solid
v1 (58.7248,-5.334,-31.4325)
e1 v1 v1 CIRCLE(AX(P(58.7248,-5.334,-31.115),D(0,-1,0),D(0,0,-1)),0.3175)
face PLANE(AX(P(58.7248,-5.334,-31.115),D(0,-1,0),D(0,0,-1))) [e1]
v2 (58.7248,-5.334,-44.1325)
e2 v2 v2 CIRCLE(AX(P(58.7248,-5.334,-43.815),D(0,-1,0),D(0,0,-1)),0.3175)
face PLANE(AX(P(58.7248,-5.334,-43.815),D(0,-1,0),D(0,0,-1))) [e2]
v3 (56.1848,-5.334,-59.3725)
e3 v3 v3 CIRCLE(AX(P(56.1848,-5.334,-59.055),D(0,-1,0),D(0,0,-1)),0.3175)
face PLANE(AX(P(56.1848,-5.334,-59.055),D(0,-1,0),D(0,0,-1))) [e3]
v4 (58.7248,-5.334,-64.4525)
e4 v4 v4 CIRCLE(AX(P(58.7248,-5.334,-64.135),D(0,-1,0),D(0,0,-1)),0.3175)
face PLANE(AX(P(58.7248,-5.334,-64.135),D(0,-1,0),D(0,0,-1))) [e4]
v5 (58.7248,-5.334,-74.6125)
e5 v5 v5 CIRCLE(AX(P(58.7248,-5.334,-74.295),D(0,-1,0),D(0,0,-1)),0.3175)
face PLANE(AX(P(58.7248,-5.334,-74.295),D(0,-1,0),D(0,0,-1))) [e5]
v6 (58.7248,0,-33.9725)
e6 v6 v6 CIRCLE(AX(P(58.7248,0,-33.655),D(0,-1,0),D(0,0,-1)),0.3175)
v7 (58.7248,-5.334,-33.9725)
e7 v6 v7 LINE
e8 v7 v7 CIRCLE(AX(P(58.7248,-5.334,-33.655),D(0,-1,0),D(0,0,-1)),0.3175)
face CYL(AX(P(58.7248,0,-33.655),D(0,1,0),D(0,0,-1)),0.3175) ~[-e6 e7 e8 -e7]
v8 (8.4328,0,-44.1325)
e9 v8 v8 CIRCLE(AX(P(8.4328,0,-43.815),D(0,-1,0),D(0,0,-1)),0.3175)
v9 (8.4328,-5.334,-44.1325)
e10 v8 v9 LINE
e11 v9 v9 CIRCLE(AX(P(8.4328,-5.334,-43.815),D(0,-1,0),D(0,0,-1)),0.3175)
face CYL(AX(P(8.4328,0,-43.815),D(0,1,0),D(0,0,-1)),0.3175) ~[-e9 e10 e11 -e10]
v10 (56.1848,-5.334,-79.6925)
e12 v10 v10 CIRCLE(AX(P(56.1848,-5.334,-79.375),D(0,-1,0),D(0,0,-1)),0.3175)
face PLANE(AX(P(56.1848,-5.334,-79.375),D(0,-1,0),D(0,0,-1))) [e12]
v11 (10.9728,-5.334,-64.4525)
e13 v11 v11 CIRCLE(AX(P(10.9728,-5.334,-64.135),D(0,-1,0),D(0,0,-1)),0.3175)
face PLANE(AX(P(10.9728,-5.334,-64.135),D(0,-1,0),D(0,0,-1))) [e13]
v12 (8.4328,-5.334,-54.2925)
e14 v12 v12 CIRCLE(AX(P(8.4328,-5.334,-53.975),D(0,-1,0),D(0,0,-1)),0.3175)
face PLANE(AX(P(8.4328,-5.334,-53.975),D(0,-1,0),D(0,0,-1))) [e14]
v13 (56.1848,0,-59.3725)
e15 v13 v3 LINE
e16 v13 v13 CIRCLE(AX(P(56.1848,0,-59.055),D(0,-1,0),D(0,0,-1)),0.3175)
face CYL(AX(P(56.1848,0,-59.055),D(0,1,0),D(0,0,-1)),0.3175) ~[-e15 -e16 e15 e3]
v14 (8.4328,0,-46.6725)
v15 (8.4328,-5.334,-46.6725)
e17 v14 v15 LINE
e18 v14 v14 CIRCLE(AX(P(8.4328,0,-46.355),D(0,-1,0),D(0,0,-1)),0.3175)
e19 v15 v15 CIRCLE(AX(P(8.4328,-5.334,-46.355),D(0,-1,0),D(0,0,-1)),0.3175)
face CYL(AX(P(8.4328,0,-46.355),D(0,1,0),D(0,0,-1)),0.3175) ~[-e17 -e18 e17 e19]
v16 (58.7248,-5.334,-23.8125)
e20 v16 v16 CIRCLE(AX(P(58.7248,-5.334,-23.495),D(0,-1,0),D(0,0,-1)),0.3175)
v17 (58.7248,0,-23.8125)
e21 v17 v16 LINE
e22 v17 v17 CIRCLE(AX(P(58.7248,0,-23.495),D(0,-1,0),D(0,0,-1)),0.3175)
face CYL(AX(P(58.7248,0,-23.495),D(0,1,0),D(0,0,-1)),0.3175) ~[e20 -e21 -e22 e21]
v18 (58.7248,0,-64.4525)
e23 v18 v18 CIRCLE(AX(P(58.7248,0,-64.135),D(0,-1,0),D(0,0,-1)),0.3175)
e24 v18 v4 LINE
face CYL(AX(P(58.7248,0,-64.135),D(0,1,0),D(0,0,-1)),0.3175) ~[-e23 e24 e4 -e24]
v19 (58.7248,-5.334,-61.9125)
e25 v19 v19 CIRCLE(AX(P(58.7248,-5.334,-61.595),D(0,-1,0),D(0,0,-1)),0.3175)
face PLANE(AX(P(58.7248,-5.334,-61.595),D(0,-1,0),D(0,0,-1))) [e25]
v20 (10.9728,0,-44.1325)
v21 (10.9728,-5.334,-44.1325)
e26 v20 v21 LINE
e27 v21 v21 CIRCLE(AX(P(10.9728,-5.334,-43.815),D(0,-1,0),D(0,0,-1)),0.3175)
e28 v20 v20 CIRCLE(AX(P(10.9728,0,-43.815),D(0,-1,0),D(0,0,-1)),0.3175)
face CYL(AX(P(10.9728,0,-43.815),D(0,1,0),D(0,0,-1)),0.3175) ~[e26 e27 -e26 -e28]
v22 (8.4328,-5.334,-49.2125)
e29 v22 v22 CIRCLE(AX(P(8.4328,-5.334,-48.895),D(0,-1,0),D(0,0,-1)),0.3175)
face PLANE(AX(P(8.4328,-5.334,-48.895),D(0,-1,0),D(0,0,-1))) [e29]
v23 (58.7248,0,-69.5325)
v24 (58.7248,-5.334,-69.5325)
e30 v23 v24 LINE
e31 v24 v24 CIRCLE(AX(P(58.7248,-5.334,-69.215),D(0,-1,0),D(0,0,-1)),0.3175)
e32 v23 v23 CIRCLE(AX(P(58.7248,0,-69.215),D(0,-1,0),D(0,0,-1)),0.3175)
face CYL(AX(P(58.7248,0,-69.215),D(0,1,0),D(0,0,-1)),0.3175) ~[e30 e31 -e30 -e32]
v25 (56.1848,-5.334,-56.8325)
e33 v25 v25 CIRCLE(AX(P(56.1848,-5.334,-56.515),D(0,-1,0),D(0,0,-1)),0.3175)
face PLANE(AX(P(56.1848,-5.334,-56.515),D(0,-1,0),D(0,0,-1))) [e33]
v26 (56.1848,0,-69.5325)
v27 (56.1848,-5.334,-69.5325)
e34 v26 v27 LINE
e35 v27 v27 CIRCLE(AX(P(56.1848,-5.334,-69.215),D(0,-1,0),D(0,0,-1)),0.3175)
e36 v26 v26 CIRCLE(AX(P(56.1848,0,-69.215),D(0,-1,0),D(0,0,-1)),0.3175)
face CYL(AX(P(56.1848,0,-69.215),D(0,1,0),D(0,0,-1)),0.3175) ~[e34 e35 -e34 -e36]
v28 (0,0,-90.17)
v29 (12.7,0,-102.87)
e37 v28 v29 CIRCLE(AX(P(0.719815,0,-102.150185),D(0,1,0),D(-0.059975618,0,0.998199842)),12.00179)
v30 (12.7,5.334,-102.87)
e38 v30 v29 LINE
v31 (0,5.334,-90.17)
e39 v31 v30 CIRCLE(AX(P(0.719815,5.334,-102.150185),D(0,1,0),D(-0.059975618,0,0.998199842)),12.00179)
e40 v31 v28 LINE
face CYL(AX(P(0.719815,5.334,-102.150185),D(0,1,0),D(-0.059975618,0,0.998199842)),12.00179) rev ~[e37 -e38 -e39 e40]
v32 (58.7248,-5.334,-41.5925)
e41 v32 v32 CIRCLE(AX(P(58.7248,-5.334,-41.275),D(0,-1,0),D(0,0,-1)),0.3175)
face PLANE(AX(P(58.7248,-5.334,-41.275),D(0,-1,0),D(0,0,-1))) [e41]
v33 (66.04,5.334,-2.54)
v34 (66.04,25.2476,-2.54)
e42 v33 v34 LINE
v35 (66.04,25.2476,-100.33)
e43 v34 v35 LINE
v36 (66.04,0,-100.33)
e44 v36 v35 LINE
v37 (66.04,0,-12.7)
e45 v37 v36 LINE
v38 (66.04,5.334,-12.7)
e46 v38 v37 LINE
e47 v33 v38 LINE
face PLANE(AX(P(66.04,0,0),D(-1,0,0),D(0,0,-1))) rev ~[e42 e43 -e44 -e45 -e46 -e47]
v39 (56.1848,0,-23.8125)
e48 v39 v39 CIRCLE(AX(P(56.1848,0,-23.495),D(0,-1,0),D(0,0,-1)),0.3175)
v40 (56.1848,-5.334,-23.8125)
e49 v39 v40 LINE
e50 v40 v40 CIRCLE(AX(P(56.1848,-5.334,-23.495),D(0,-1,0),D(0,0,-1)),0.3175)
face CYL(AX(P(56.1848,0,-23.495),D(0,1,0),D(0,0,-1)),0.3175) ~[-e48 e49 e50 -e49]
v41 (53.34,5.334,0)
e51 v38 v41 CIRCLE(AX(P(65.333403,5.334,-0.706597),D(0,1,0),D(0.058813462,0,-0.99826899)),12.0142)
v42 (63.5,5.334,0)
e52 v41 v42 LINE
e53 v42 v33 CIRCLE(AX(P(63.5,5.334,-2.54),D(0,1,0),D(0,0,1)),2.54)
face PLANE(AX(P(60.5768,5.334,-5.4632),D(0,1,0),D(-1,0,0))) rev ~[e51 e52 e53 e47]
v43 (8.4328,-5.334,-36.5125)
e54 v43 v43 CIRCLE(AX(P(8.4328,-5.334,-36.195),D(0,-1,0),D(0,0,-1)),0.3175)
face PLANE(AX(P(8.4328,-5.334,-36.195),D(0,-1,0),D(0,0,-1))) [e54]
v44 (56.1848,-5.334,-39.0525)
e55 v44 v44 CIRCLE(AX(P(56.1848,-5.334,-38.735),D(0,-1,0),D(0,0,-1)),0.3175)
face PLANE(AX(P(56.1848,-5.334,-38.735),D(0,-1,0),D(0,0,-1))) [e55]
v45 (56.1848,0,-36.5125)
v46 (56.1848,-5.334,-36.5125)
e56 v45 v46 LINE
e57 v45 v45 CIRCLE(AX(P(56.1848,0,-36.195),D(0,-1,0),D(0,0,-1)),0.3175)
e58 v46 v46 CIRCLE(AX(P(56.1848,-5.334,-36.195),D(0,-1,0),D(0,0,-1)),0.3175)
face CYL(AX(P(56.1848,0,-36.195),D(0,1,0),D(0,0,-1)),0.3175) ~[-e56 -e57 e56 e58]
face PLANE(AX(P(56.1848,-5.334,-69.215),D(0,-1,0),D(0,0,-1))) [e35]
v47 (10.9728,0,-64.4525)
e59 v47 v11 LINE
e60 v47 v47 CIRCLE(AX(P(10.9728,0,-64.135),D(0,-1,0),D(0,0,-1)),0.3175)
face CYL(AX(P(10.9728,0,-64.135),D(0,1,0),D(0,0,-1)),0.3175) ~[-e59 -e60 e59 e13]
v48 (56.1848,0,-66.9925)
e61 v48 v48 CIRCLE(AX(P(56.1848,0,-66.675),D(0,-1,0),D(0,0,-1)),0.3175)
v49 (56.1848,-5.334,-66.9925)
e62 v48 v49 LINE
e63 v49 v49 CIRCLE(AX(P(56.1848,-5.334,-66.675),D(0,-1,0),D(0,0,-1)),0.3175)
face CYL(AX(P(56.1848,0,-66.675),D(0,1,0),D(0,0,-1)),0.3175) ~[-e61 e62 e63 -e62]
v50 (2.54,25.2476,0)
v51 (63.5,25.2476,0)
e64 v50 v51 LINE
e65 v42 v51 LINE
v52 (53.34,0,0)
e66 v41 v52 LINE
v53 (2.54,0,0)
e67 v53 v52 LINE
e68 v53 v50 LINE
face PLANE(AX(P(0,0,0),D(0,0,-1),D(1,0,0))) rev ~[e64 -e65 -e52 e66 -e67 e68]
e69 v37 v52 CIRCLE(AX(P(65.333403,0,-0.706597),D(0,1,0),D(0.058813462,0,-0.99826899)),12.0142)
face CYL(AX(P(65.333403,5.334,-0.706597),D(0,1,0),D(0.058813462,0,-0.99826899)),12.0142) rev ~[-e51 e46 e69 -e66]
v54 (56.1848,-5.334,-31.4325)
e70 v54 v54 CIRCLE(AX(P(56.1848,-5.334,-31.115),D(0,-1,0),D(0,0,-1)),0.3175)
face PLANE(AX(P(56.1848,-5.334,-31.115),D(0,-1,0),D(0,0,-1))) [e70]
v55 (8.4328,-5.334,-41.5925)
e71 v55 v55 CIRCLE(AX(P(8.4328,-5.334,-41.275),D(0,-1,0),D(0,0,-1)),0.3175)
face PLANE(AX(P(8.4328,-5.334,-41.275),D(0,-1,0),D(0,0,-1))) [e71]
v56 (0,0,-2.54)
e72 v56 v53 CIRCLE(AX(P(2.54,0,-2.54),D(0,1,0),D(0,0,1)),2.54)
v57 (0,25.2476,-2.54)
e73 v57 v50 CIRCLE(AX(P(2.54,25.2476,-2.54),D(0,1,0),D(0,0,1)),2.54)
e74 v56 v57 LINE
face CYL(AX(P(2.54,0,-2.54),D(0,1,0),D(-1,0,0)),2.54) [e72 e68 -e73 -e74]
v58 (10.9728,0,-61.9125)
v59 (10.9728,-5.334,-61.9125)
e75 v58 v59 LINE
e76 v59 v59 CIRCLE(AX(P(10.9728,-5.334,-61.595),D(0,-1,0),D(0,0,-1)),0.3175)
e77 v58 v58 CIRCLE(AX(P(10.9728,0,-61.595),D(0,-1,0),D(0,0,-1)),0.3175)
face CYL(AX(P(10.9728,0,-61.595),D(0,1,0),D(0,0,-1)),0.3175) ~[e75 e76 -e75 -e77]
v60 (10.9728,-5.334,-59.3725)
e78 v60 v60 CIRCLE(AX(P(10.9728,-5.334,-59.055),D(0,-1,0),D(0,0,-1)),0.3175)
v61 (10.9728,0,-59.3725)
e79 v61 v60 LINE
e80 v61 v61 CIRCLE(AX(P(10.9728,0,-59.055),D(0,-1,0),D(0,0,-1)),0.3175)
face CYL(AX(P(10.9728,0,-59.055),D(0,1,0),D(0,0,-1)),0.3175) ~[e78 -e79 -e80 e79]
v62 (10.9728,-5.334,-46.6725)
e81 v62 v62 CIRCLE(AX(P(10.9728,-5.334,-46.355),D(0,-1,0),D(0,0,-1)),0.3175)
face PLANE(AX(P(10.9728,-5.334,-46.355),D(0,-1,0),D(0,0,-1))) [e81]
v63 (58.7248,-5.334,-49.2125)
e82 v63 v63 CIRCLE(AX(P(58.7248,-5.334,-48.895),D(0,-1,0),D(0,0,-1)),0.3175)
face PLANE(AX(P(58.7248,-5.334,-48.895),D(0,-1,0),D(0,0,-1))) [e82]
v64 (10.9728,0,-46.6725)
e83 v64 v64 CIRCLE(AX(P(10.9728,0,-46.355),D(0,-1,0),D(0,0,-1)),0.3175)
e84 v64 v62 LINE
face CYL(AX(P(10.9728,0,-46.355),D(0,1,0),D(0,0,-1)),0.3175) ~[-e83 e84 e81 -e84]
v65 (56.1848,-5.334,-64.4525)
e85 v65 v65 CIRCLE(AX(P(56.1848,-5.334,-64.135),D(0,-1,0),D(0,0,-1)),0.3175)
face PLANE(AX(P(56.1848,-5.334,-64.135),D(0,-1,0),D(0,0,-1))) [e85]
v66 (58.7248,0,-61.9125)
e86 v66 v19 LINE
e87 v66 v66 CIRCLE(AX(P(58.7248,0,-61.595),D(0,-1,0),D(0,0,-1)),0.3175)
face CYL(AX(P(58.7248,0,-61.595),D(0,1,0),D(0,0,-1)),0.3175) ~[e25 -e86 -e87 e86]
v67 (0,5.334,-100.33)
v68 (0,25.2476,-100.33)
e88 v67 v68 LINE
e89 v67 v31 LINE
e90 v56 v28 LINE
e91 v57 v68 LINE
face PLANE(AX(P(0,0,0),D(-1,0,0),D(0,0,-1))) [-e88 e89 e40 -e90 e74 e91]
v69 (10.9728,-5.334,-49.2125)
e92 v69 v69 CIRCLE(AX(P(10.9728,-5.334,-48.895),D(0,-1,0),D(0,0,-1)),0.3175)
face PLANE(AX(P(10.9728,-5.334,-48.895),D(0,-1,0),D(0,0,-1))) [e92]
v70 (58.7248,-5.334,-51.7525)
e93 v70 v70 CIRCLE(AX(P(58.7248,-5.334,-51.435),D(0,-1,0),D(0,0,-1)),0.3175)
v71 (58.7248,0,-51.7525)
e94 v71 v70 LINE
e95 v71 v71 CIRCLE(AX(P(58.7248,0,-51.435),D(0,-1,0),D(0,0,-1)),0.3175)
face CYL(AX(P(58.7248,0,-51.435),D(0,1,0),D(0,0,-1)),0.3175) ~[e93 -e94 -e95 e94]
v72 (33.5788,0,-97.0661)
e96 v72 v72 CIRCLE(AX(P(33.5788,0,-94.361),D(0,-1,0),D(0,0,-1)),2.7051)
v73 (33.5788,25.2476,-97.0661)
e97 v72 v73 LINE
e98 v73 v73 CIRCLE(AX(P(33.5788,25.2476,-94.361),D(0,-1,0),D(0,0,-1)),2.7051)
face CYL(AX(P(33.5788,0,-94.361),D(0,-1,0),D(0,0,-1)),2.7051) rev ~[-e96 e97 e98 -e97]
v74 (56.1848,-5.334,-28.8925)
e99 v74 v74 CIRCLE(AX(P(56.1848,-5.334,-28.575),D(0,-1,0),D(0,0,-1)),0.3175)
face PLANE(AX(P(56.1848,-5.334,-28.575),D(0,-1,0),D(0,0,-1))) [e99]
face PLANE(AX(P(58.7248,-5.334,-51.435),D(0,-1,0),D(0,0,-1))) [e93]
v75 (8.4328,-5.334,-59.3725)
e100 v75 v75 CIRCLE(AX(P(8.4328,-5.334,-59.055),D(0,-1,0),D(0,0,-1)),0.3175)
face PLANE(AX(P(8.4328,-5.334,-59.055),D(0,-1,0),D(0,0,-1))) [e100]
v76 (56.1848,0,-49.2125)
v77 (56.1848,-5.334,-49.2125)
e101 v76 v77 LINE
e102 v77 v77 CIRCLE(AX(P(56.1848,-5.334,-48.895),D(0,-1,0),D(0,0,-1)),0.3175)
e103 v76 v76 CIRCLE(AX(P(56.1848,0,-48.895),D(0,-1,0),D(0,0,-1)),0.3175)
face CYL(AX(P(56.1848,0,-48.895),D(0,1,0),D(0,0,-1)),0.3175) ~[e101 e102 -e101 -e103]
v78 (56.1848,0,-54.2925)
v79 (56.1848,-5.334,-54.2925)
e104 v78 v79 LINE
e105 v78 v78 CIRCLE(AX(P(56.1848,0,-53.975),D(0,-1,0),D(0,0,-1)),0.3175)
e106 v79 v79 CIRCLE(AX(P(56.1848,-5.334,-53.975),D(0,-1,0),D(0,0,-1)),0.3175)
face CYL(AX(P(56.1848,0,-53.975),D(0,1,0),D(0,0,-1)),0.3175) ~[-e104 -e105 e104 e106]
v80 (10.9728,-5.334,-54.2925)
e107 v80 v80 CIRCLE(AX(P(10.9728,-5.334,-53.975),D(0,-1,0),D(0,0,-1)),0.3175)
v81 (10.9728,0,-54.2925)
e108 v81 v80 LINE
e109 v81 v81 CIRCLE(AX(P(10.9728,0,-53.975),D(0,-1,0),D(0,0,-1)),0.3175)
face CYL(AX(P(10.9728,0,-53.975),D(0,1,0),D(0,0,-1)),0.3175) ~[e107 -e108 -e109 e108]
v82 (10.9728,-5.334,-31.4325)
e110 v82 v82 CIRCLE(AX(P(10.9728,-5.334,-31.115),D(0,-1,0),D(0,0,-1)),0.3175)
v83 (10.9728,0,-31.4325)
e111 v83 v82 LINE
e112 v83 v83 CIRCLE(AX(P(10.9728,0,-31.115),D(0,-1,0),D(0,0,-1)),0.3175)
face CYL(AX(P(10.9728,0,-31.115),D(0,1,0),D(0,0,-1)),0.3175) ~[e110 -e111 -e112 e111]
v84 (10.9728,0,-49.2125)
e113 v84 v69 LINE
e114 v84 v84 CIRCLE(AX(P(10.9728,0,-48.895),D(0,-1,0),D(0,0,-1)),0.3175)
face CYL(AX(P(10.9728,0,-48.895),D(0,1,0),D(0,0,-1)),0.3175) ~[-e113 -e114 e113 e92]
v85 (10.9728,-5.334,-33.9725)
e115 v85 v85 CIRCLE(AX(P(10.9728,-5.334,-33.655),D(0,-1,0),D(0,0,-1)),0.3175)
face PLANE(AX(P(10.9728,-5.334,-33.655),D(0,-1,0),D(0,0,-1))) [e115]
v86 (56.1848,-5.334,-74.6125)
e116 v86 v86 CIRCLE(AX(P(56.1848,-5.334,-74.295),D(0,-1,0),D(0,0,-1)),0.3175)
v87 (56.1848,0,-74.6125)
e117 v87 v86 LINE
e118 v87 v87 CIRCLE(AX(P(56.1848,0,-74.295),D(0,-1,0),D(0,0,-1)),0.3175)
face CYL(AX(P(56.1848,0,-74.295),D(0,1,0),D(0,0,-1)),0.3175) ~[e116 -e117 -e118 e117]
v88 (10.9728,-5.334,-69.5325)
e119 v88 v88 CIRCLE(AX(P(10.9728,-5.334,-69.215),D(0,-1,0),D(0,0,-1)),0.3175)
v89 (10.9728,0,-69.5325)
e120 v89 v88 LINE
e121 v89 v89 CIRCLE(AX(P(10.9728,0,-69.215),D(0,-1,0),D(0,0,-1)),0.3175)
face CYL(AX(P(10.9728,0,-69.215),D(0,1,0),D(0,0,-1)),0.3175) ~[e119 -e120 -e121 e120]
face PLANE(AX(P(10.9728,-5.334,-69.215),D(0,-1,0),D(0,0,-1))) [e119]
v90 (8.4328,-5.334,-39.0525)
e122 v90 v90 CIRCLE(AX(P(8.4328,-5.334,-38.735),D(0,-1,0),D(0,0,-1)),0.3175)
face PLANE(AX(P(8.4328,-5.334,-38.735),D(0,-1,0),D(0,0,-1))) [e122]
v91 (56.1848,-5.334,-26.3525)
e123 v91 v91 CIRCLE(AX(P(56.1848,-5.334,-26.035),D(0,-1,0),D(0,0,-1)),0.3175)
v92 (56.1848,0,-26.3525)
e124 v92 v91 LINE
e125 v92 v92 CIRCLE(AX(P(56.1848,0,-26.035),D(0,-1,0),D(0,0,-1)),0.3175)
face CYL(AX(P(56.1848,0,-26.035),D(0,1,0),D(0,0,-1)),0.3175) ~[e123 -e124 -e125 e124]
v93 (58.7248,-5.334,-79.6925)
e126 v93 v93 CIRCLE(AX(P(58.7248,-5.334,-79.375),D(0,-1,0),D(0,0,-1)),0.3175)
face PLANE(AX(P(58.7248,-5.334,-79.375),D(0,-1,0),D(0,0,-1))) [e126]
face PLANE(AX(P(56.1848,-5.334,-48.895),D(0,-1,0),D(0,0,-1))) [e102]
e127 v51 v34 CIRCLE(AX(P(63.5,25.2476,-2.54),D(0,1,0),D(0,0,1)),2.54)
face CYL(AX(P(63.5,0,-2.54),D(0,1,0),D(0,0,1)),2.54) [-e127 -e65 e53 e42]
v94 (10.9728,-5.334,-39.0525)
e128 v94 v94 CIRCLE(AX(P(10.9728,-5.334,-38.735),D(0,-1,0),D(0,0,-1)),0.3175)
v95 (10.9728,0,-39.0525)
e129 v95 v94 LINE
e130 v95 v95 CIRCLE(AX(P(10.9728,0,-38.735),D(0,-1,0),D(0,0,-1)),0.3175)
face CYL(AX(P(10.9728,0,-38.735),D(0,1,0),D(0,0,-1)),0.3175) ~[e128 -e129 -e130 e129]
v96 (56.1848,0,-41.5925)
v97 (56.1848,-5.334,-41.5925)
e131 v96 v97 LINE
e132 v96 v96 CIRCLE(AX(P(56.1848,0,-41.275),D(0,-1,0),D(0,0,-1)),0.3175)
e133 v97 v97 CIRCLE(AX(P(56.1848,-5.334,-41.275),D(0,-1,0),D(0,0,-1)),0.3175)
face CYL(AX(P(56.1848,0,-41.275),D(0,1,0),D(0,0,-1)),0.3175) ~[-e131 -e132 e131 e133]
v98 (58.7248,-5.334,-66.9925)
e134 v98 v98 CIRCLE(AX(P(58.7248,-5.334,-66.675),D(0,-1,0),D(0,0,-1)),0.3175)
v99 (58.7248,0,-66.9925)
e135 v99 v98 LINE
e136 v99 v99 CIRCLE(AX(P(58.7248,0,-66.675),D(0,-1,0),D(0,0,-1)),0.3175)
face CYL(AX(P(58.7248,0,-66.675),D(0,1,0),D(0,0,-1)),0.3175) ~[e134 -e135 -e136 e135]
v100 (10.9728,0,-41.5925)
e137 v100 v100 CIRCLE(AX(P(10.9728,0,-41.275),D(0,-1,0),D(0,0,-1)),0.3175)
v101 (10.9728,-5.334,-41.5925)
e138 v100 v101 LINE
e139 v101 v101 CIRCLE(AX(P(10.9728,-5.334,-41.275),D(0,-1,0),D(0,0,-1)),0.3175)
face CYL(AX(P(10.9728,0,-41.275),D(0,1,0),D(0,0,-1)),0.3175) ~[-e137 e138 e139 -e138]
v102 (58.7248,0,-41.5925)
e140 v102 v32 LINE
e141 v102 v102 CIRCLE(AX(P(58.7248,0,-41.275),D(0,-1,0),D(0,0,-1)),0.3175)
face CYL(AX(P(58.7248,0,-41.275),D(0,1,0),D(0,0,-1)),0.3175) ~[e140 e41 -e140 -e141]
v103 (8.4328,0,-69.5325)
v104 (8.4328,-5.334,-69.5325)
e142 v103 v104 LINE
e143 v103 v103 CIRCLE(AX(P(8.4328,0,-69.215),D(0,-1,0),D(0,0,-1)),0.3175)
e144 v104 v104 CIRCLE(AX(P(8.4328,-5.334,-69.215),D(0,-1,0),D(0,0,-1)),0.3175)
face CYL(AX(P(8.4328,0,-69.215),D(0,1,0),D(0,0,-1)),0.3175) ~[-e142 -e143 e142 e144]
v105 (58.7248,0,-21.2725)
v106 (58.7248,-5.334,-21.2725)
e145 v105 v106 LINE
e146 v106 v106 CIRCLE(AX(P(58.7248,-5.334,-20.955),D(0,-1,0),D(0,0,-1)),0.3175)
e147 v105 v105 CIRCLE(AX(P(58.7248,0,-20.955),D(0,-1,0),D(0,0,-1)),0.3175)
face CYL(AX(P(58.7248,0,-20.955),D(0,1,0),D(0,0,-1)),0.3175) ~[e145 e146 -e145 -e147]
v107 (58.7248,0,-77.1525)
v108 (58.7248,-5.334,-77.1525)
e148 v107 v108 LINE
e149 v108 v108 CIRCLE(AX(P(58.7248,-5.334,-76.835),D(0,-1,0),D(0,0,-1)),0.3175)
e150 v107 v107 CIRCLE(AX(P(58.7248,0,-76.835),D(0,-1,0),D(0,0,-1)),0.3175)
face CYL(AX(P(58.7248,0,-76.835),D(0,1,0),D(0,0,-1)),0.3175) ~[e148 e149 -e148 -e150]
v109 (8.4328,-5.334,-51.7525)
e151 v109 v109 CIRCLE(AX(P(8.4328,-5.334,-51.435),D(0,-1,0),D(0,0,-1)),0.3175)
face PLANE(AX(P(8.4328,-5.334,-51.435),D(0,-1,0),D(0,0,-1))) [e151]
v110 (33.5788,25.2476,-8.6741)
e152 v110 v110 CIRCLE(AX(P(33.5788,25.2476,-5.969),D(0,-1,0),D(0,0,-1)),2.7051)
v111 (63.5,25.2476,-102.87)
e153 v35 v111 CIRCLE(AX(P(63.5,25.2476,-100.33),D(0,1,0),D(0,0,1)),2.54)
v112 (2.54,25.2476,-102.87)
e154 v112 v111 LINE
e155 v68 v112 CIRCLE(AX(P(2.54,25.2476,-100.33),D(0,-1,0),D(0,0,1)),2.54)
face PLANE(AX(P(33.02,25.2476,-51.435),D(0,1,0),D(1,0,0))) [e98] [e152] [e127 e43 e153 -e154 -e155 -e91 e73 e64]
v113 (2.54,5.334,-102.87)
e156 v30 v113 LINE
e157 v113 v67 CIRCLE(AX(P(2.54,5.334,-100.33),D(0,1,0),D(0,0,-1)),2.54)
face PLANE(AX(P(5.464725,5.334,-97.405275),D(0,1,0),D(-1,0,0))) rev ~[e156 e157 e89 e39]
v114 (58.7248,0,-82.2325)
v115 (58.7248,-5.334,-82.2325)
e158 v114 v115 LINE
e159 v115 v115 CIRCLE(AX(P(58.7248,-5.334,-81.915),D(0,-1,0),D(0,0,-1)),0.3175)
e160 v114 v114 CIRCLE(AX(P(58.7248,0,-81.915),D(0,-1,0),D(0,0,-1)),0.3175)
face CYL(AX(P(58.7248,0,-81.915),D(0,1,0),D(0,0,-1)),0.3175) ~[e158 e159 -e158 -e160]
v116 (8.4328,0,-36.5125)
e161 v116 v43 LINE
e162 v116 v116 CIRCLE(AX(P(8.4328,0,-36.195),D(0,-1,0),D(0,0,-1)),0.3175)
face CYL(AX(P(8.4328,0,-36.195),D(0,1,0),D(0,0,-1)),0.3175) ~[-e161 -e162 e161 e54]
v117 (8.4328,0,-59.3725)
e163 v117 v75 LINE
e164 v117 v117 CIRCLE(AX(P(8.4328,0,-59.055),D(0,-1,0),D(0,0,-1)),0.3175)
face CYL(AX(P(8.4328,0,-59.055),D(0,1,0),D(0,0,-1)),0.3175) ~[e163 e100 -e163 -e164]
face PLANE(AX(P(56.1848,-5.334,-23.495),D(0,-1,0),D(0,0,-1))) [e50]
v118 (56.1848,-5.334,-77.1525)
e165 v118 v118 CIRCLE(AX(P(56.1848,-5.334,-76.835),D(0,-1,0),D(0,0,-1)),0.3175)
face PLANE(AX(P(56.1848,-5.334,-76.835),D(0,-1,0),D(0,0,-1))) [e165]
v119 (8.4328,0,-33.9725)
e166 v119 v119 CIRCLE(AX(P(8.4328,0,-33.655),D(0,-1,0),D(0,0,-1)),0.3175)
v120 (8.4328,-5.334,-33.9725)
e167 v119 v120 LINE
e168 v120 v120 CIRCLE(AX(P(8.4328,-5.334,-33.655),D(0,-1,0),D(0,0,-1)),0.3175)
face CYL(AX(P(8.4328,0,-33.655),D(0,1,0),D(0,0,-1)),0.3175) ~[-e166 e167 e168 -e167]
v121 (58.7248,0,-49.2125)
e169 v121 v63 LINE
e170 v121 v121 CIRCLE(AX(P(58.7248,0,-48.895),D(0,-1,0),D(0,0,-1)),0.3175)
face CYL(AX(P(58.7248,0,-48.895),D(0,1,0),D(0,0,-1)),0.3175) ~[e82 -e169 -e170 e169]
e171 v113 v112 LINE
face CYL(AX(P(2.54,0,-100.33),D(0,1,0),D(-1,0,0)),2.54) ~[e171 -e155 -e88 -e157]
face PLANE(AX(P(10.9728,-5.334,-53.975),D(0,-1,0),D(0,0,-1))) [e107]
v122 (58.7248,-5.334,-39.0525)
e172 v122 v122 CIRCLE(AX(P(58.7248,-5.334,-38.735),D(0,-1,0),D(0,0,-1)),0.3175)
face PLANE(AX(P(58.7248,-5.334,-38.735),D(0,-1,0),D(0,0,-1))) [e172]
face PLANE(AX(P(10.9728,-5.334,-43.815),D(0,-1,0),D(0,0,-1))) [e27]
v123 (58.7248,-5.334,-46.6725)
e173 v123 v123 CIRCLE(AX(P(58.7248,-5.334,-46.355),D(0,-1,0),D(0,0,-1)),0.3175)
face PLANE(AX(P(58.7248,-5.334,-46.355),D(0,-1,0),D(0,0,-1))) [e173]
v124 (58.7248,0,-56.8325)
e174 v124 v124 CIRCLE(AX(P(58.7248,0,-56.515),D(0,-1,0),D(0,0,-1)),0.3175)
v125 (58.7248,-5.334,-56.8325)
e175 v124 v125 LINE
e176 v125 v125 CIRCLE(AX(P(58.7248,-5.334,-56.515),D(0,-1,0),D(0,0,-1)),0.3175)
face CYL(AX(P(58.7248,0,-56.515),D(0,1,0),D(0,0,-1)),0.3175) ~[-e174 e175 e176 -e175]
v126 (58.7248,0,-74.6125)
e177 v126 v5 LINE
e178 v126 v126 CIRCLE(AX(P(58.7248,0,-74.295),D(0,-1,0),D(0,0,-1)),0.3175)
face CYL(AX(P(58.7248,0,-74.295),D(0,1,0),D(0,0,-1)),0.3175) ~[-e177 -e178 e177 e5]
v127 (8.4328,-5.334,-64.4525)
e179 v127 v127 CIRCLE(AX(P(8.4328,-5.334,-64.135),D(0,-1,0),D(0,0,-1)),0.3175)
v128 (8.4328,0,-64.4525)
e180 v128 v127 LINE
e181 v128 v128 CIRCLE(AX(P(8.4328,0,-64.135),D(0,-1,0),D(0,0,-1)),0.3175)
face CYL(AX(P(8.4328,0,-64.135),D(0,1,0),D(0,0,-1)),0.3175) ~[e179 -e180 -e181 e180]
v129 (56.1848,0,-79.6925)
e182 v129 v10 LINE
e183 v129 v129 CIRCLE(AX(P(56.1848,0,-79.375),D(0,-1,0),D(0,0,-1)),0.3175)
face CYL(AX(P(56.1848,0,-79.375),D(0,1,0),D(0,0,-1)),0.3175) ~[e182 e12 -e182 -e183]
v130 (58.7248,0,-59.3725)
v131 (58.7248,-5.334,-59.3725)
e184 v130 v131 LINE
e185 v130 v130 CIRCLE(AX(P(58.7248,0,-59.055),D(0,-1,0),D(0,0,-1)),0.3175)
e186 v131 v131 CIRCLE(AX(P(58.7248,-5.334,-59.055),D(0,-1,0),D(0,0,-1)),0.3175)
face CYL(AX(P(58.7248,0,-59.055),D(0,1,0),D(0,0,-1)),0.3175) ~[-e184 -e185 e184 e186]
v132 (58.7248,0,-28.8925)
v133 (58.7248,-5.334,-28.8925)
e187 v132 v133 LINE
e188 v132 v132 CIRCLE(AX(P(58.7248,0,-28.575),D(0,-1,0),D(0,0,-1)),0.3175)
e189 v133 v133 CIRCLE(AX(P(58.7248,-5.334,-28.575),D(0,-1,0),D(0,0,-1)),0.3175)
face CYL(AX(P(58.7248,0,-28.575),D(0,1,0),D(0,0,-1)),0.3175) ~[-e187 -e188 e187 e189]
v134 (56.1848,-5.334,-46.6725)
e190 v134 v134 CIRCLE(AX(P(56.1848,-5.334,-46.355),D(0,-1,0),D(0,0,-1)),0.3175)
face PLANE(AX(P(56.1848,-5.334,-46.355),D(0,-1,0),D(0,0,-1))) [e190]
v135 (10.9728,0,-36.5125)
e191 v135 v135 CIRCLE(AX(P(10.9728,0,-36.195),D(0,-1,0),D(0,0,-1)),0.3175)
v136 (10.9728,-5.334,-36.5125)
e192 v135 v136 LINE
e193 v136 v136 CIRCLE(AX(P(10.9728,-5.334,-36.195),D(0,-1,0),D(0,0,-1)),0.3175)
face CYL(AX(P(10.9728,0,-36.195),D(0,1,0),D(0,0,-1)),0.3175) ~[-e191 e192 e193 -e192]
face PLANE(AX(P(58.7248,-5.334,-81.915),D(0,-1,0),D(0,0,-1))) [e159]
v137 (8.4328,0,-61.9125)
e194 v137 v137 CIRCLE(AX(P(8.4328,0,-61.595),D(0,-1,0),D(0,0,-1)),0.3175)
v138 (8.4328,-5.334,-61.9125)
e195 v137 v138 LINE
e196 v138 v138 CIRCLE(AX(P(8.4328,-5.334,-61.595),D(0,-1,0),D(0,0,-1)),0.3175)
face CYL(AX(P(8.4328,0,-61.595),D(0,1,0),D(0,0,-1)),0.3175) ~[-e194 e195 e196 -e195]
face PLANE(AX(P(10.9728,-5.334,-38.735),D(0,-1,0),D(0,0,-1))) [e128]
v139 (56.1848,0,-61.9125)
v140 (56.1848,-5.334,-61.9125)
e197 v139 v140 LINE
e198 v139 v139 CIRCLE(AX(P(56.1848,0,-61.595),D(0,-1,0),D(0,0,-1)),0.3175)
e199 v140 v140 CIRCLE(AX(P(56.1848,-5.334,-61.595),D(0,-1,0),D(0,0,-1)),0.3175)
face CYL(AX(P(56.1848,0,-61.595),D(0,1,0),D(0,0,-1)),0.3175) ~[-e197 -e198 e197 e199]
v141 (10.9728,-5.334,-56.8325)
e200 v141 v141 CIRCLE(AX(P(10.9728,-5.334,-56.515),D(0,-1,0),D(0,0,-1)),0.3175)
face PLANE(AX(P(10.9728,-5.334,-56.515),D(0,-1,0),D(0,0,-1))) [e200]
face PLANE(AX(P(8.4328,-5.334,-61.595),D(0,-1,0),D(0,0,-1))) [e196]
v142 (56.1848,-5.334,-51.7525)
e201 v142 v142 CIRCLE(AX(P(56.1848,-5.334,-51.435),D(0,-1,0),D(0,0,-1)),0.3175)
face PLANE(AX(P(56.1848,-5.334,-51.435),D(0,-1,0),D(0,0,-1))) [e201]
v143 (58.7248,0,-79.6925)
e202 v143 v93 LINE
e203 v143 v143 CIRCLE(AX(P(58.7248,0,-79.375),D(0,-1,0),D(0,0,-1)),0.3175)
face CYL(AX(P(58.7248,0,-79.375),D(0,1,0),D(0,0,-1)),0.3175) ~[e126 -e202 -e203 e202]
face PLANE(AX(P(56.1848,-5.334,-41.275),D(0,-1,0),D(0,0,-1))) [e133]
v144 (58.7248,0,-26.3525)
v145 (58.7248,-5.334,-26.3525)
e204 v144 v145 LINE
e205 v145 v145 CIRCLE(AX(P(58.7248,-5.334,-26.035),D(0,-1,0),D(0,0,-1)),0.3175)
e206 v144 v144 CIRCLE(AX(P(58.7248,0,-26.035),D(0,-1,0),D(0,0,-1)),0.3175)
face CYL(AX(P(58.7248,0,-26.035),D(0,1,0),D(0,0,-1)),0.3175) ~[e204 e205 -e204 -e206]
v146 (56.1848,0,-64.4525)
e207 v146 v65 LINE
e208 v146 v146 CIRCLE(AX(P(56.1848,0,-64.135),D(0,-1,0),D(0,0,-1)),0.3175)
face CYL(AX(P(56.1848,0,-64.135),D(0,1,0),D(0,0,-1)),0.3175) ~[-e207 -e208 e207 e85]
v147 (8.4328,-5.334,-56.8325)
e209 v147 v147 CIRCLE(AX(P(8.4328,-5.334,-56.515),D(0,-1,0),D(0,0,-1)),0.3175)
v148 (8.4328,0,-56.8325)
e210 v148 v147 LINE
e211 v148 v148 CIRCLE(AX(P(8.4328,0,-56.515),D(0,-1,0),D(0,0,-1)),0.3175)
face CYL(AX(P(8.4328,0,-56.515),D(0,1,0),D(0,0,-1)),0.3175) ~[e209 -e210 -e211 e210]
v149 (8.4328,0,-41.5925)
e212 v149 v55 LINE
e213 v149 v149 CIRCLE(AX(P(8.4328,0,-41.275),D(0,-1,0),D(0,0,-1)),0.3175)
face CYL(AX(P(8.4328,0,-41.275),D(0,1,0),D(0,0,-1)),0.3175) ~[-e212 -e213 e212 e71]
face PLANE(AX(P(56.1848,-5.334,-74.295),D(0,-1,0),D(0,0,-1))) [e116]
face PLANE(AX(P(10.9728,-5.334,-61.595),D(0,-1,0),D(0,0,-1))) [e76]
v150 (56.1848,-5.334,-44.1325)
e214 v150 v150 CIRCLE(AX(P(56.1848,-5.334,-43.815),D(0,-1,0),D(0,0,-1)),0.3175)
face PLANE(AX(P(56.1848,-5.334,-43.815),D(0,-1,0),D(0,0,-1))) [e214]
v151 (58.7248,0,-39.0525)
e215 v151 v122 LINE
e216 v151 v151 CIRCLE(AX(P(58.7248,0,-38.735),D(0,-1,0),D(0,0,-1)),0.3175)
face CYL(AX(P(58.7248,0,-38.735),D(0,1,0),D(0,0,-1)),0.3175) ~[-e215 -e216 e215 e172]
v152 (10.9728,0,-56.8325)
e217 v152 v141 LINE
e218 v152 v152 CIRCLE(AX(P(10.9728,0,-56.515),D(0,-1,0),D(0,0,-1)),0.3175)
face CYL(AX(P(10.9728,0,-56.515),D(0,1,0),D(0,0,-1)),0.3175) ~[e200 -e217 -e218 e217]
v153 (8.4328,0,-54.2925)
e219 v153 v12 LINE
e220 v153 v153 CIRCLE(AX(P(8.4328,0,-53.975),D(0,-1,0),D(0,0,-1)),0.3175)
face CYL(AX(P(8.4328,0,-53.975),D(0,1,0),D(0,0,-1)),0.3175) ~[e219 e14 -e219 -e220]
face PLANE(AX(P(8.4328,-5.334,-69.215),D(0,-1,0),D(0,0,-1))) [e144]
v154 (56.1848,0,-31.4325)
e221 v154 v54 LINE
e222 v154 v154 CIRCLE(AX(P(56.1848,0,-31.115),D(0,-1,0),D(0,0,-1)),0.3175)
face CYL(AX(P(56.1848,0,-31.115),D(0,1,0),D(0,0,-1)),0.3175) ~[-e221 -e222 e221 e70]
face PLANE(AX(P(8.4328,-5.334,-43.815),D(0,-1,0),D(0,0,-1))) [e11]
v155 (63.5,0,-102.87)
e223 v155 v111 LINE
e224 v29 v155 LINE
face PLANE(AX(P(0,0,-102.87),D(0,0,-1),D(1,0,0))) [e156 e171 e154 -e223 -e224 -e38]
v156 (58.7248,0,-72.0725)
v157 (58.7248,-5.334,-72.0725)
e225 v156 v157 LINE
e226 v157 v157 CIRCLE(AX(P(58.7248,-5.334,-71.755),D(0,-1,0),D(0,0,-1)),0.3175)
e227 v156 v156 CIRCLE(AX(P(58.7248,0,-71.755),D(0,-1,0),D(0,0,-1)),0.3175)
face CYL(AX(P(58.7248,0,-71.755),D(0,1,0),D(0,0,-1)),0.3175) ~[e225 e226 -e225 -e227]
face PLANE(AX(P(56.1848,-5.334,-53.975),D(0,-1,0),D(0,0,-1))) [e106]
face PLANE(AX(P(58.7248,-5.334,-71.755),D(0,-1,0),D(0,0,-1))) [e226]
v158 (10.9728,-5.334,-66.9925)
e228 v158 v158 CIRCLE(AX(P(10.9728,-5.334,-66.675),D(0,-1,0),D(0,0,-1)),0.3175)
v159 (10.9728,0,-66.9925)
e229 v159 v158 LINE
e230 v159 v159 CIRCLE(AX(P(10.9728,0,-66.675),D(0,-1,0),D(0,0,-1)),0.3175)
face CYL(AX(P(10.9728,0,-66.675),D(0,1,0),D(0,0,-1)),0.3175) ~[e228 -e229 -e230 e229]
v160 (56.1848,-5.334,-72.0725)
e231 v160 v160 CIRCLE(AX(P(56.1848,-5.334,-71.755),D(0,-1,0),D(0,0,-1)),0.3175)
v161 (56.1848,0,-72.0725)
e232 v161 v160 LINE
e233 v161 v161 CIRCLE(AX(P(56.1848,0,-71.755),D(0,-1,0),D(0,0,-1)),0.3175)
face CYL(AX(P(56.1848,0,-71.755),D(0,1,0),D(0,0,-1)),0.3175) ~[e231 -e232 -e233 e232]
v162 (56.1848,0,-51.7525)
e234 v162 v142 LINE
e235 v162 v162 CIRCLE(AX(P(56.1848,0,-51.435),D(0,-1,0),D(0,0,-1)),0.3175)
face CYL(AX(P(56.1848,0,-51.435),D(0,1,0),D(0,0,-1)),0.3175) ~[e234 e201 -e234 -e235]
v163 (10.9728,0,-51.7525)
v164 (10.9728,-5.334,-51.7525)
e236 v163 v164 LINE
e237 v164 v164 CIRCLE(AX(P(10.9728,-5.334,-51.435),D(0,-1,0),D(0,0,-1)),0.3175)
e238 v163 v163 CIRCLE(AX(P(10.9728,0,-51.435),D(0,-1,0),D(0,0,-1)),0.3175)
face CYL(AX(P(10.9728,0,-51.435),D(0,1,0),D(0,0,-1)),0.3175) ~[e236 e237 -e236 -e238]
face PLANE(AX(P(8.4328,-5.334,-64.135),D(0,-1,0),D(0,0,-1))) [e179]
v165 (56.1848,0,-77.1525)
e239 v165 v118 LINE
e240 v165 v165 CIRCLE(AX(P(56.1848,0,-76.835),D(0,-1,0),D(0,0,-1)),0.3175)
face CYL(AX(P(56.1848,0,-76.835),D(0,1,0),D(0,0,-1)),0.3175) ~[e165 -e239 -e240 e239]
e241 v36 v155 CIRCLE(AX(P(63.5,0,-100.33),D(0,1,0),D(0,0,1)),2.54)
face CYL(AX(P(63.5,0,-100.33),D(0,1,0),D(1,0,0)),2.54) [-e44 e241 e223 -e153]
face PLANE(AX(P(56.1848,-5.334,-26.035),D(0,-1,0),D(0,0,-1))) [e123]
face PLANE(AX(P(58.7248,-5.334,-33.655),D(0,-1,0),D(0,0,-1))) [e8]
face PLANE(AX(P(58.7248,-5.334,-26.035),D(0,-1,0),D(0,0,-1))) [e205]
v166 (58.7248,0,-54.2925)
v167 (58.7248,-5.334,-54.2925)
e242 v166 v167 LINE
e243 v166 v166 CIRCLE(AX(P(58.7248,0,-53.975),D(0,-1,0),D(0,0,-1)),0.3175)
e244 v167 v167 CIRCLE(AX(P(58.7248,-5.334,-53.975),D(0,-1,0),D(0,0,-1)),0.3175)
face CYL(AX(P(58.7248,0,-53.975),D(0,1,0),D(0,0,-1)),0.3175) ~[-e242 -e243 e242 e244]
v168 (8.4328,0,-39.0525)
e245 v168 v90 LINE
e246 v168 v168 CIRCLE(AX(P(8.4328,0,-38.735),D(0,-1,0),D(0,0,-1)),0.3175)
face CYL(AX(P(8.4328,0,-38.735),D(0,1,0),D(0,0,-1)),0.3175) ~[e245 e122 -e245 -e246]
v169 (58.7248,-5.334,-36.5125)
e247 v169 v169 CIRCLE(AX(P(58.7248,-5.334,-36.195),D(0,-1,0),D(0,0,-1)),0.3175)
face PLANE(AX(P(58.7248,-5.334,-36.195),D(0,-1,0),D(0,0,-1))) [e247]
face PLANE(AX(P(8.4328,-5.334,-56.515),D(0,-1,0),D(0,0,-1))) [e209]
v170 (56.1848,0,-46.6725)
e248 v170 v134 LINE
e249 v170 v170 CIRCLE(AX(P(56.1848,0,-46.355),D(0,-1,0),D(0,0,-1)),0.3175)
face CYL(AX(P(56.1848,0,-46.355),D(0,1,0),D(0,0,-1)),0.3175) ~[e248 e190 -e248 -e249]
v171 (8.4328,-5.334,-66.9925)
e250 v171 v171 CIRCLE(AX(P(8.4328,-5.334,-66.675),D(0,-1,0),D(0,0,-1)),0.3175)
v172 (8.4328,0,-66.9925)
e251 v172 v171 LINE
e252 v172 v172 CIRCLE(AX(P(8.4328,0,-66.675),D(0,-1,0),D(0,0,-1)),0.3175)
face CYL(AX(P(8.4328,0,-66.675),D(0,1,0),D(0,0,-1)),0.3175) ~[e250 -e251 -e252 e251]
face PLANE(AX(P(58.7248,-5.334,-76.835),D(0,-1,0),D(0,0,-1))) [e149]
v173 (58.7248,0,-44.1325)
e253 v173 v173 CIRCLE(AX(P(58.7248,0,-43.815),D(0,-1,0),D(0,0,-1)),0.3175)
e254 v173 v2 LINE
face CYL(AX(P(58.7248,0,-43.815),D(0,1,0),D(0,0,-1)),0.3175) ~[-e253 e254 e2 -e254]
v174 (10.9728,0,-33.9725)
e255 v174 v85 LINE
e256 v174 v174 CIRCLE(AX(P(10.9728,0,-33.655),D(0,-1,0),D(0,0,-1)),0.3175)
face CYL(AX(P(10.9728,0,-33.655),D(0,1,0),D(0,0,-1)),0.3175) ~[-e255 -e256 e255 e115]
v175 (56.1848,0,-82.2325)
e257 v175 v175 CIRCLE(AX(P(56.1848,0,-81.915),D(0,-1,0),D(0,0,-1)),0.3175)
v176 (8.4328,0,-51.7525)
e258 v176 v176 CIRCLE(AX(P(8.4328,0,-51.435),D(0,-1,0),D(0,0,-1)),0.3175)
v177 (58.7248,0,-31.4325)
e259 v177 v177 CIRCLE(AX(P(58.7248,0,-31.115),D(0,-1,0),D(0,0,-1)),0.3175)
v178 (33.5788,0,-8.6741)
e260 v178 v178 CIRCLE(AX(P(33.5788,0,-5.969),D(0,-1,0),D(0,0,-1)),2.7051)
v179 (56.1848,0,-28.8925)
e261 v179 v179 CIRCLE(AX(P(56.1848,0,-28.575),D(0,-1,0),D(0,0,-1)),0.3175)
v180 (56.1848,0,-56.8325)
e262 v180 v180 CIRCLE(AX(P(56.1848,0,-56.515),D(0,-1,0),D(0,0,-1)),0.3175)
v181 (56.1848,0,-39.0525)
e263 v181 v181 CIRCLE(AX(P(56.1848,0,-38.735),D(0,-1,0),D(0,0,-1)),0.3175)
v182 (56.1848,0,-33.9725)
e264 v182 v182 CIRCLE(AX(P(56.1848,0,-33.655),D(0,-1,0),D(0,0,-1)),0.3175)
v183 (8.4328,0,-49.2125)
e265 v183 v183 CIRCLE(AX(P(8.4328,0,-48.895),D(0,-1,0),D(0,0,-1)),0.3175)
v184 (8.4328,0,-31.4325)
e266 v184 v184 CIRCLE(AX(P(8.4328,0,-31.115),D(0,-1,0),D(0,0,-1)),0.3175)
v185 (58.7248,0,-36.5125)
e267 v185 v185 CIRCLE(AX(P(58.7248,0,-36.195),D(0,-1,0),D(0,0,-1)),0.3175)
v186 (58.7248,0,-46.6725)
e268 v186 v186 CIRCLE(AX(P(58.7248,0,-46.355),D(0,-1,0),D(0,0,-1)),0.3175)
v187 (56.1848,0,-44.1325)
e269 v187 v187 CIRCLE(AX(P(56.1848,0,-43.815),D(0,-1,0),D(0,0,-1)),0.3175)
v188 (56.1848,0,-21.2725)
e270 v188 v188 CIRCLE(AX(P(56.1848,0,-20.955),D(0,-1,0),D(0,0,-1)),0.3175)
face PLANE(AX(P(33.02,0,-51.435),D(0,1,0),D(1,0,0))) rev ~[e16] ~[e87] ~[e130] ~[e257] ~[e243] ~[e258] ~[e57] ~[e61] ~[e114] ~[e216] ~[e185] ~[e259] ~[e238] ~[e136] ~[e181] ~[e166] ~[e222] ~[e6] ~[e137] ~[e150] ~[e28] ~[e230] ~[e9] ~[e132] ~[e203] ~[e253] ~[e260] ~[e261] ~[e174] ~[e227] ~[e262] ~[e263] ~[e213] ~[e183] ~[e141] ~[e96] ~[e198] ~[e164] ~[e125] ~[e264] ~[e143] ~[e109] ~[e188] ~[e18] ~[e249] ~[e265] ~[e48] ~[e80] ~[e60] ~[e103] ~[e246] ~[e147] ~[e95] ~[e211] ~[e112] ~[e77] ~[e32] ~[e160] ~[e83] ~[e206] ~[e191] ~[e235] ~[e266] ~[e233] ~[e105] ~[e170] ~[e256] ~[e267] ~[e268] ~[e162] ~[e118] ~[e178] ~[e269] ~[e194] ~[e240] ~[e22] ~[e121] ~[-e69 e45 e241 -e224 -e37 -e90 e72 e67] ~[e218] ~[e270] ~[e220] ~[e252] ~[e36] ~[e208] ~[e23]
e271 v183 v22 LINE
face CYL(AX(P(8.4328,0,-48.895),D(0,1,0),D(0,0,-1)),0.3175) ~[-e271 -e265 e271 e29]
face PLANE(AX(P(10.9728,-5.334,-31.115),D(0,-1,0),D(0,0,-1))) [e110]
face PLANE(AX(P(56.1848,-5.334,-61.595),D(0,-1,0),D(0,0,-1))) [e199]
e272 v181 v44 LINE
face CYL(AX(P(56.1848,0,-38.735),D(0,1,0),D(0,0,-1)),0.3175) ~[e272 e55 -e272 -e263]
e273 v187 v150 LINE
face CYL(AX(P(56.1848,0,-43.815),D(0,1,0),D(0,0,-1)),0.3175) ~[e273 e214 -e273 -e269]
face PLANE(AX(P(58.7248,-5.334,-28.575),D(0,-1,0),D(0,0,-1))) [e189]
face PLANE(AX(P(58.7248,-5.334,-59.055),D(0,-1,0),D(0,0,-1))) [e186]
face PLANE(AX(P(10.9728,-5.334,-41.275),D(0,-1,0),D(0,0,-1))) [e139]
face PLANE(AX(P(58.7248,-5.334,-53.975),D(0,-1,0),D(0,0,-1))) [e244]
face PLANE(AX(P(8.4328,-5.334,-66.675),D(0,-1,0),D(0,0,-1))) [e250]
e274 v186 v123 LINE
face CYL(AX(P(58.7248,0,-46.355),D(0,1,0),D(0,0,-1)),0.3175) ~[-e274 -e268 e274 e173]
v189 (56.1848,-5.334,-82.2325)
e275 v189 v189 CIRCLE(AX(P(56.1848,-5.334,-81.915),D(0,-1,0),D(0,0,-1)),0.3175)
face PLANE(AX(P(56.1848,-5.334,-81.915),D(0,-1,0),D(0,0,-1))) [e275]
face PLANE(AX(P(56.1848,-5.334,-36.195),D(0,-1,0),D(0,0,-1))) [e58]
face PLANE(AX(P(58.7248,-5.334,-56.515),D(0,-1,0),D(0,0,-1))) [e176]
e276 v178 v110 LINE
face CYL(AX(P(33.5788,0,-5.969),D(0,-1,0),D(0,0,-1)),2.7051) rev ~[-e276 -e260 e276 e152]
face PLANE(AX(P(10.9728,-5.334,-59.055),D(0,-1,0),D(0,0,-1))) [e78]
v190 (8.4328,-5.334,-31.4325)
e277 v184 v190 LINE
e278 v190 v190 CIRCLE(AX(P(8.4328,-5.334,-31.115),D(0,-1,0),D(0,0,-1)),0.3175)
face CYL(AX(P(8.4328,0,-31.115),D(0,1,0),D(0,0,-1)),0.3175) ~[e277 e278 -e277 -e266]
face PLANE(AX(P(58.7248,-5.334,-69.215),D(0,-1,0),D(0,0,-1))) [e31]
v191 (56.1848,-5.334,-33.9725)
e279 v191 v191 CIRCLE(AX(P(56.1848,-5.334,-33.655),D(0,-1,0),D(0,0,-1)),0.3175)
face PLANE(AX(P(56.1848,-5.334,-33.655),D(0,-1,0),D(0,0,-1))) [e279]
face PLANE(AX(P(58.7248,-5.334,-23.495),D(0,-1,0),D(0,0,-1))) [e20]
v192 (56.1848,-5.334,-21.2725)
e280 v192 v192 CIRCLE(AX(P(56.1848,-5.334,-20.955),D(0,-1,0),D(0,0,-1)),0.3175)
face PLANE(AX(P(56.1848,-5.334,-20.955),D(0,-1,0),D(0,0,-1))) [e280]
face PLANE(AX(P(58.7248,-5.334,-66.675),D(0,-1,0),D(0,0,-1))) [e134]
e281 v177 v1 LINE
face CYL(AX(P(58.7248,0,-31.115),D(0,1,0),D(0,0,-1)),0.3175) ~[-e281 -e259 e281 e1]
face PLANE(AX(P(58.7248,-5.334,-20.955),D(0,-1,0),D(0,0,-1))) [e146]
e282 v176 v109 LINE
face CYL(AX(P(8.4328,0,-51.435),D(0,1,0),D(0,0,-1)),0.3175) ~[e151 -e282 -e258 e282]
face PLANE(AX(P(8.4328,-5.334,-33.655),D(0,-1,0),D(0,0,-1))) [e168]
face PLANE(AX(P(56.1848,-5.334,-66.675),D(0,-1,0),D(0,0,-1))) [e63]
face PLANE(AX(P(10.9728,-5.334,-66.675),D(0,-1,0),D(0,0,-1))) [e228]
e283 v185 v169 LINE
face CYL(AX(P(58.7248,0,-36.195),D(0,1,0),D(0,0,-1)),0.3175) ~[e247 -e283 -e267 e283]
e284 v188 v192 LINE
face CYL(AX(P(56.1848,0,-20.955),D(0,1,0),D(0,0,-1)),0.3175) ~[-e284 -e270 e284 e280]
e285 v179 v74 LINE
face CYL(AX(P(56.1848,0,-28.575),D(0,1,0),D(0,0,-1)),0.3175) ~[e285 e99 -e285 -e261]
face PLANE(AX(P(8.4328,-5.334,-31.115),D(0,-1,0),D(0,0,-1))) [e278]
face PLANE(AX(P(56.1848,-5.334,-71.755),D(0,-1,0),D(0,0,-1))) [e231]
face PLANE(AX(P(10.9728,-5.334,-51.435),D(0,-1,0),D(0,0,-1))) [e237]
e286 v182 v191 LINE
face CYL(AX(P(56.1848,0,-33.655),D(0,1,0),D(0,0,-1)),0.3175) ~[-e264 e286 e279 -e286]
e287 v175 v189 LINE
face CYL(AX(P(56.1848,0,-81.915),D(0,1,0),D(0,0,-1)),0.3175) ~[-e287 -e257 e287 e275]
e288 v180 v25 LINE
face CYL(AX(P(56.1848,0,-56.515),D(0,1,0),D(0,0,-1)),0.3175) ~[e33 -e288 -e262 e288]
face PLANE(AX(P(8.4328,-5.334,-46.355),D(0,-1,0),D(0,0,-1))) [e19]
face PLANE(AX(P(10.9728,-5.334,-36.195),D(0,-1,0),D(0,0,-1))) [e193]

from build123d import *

# Parameters (mm, degrees)
SKETCH1_W          = 66.04
SKETCH1_H          = 102.87
EXTRUDE1_DEPTH     = 25.2476
FILLET1_R          = 2.54
SKETCH2_R          = 0.3175
EXTRUDE2_DEPTH     = 5.334
LPATTERN1_COUNT    = 25
LPATTERN1_PITCH    = 2.54
SKETCH3_R          = 0.3175
EXTRUDE3_DEPTH     = 5.334
LPATTERN2_COUNT    = 16
LPATTERN2_PITCH    = 2.54
CUT_EXTRUDE1_START = -5.334
CUT_EXTRUDE1_DEPTH = 5.334
SKETCH5_R          = 2.7051
CUT_EXTRUDE2_DEPTH = 25.654


with BuildPart() as part:
    # Sketch1 → Extrude1 (new body)
    with BuildSketch(Plane(origin=(0, 0, 0), x_dir=(1, 0, 0), z_dir=(0, 1, 0))):
        with Locations((33.02, 51.435)):
            Rectangle(SKETCH1_W, SKETCH1_H)
    extrude(amount=EXTRUDE1_DEPTH)

    # Fillet1
    fillet1_edges = [part.edges().sort_by_distance(p)[0] for p in [
        (0, 12.6238, -102.87),
        (66.04, 12.6238, -102.87),
        (66.04, 12.6238, 0),
        (0, 12.6238, 0),
    ]]
    fillet(fillet1_edges, radius=FILLET1_R)

    # Sketch2 → Extrude2 (add)
    with BuildSketch(Plane.XZ):
        with Locations(Location((56.1848, -20.955, 0), (0, 0, 270))):
            Circle(SKETCH2_R)
        with Locations(Location((58.7248, -20.955, 0), (0, 0, 270))):
            Circle(SKETCH2_R)
    extrude2 = extrude(amount=EXTRUDE2_DEPTH)

    # LPattern1: Extrude2 ×25
    with Locations(*[(0, 0, -i * LPATTERN1_PITCH) for i in range(1, LPATTERN1_COUNT)]):
        add(extrude2)

    # Sketch3 → Extrude3 (add)
    with BuildSketch(Plane.XZ):
        with Locations(Location((8.4328, -69.215, 0), (0, 0, 270))):
            Circle(SKETCH3_R)
        with Locations(Location((10.9728, -69.215, 0), (0, 0, 270))):
            Circle(SKETCH3_R)
    extrude3 = extrude(amount=EXTRUDE3_DEPTH)

    # LPattern2: Extrude3 ×16
    with Locations(*[(0, 0, i * LPATTERN2_PITCH) for i in range(1, LPATTERN2_COUNT)]):
        add(extrude3)

    # Sketch4 → Cut-Extrude1 (cut)
    with BuildSketch(Plane.XZ.offset(CUT_EXTRUDE1_START)):
        with BuildLine():
            Line((53.34, 0), (63.5, 0))
            ThreePointArc((63.5, 0), (65.296051224, -0.743948776), (66.04, -2.54))
            Line((66.04, -2.54), (66.04, -12.7))
            ThreePointArc((66.04, -12.7), (56.838081011, -9.201918989), (53.34, 0))
        make_face()
        with BuildLine():
            Line((12.7, -102.87), (2.54, -102.87))
            ThreePointArc((2.54, -102.87), (0.743948776, -102.126051224), (0, -100.33))
            Line((0, -100.33), (0, -90.17))
            ThreePointArc((0, -90.17), (9.206362116, -93.663637884), (12.7, -102.87))
        make_face()
    extrude(amount=CUT_EXTRUDE1_DEPTH, mode=Mode.SUBTRACT)

    # Sketch5 → Cut-Extrude2 (cut)
    with BuildSketch(Plane.XZ):
        with Locations(Location((33.5788, -5.969, 0), (0, 0, 270))):
            Circle(SKETCH5_R)
        with Locations(Location((33.5788, -94.361, 0), (0, 0, 270))):
            Circle(SKETCH5_R)
    extrude(amount=-CUT_EXTRUDE2_DEPTH, mode=Mode.SUBTRACT)


solid = part.part
